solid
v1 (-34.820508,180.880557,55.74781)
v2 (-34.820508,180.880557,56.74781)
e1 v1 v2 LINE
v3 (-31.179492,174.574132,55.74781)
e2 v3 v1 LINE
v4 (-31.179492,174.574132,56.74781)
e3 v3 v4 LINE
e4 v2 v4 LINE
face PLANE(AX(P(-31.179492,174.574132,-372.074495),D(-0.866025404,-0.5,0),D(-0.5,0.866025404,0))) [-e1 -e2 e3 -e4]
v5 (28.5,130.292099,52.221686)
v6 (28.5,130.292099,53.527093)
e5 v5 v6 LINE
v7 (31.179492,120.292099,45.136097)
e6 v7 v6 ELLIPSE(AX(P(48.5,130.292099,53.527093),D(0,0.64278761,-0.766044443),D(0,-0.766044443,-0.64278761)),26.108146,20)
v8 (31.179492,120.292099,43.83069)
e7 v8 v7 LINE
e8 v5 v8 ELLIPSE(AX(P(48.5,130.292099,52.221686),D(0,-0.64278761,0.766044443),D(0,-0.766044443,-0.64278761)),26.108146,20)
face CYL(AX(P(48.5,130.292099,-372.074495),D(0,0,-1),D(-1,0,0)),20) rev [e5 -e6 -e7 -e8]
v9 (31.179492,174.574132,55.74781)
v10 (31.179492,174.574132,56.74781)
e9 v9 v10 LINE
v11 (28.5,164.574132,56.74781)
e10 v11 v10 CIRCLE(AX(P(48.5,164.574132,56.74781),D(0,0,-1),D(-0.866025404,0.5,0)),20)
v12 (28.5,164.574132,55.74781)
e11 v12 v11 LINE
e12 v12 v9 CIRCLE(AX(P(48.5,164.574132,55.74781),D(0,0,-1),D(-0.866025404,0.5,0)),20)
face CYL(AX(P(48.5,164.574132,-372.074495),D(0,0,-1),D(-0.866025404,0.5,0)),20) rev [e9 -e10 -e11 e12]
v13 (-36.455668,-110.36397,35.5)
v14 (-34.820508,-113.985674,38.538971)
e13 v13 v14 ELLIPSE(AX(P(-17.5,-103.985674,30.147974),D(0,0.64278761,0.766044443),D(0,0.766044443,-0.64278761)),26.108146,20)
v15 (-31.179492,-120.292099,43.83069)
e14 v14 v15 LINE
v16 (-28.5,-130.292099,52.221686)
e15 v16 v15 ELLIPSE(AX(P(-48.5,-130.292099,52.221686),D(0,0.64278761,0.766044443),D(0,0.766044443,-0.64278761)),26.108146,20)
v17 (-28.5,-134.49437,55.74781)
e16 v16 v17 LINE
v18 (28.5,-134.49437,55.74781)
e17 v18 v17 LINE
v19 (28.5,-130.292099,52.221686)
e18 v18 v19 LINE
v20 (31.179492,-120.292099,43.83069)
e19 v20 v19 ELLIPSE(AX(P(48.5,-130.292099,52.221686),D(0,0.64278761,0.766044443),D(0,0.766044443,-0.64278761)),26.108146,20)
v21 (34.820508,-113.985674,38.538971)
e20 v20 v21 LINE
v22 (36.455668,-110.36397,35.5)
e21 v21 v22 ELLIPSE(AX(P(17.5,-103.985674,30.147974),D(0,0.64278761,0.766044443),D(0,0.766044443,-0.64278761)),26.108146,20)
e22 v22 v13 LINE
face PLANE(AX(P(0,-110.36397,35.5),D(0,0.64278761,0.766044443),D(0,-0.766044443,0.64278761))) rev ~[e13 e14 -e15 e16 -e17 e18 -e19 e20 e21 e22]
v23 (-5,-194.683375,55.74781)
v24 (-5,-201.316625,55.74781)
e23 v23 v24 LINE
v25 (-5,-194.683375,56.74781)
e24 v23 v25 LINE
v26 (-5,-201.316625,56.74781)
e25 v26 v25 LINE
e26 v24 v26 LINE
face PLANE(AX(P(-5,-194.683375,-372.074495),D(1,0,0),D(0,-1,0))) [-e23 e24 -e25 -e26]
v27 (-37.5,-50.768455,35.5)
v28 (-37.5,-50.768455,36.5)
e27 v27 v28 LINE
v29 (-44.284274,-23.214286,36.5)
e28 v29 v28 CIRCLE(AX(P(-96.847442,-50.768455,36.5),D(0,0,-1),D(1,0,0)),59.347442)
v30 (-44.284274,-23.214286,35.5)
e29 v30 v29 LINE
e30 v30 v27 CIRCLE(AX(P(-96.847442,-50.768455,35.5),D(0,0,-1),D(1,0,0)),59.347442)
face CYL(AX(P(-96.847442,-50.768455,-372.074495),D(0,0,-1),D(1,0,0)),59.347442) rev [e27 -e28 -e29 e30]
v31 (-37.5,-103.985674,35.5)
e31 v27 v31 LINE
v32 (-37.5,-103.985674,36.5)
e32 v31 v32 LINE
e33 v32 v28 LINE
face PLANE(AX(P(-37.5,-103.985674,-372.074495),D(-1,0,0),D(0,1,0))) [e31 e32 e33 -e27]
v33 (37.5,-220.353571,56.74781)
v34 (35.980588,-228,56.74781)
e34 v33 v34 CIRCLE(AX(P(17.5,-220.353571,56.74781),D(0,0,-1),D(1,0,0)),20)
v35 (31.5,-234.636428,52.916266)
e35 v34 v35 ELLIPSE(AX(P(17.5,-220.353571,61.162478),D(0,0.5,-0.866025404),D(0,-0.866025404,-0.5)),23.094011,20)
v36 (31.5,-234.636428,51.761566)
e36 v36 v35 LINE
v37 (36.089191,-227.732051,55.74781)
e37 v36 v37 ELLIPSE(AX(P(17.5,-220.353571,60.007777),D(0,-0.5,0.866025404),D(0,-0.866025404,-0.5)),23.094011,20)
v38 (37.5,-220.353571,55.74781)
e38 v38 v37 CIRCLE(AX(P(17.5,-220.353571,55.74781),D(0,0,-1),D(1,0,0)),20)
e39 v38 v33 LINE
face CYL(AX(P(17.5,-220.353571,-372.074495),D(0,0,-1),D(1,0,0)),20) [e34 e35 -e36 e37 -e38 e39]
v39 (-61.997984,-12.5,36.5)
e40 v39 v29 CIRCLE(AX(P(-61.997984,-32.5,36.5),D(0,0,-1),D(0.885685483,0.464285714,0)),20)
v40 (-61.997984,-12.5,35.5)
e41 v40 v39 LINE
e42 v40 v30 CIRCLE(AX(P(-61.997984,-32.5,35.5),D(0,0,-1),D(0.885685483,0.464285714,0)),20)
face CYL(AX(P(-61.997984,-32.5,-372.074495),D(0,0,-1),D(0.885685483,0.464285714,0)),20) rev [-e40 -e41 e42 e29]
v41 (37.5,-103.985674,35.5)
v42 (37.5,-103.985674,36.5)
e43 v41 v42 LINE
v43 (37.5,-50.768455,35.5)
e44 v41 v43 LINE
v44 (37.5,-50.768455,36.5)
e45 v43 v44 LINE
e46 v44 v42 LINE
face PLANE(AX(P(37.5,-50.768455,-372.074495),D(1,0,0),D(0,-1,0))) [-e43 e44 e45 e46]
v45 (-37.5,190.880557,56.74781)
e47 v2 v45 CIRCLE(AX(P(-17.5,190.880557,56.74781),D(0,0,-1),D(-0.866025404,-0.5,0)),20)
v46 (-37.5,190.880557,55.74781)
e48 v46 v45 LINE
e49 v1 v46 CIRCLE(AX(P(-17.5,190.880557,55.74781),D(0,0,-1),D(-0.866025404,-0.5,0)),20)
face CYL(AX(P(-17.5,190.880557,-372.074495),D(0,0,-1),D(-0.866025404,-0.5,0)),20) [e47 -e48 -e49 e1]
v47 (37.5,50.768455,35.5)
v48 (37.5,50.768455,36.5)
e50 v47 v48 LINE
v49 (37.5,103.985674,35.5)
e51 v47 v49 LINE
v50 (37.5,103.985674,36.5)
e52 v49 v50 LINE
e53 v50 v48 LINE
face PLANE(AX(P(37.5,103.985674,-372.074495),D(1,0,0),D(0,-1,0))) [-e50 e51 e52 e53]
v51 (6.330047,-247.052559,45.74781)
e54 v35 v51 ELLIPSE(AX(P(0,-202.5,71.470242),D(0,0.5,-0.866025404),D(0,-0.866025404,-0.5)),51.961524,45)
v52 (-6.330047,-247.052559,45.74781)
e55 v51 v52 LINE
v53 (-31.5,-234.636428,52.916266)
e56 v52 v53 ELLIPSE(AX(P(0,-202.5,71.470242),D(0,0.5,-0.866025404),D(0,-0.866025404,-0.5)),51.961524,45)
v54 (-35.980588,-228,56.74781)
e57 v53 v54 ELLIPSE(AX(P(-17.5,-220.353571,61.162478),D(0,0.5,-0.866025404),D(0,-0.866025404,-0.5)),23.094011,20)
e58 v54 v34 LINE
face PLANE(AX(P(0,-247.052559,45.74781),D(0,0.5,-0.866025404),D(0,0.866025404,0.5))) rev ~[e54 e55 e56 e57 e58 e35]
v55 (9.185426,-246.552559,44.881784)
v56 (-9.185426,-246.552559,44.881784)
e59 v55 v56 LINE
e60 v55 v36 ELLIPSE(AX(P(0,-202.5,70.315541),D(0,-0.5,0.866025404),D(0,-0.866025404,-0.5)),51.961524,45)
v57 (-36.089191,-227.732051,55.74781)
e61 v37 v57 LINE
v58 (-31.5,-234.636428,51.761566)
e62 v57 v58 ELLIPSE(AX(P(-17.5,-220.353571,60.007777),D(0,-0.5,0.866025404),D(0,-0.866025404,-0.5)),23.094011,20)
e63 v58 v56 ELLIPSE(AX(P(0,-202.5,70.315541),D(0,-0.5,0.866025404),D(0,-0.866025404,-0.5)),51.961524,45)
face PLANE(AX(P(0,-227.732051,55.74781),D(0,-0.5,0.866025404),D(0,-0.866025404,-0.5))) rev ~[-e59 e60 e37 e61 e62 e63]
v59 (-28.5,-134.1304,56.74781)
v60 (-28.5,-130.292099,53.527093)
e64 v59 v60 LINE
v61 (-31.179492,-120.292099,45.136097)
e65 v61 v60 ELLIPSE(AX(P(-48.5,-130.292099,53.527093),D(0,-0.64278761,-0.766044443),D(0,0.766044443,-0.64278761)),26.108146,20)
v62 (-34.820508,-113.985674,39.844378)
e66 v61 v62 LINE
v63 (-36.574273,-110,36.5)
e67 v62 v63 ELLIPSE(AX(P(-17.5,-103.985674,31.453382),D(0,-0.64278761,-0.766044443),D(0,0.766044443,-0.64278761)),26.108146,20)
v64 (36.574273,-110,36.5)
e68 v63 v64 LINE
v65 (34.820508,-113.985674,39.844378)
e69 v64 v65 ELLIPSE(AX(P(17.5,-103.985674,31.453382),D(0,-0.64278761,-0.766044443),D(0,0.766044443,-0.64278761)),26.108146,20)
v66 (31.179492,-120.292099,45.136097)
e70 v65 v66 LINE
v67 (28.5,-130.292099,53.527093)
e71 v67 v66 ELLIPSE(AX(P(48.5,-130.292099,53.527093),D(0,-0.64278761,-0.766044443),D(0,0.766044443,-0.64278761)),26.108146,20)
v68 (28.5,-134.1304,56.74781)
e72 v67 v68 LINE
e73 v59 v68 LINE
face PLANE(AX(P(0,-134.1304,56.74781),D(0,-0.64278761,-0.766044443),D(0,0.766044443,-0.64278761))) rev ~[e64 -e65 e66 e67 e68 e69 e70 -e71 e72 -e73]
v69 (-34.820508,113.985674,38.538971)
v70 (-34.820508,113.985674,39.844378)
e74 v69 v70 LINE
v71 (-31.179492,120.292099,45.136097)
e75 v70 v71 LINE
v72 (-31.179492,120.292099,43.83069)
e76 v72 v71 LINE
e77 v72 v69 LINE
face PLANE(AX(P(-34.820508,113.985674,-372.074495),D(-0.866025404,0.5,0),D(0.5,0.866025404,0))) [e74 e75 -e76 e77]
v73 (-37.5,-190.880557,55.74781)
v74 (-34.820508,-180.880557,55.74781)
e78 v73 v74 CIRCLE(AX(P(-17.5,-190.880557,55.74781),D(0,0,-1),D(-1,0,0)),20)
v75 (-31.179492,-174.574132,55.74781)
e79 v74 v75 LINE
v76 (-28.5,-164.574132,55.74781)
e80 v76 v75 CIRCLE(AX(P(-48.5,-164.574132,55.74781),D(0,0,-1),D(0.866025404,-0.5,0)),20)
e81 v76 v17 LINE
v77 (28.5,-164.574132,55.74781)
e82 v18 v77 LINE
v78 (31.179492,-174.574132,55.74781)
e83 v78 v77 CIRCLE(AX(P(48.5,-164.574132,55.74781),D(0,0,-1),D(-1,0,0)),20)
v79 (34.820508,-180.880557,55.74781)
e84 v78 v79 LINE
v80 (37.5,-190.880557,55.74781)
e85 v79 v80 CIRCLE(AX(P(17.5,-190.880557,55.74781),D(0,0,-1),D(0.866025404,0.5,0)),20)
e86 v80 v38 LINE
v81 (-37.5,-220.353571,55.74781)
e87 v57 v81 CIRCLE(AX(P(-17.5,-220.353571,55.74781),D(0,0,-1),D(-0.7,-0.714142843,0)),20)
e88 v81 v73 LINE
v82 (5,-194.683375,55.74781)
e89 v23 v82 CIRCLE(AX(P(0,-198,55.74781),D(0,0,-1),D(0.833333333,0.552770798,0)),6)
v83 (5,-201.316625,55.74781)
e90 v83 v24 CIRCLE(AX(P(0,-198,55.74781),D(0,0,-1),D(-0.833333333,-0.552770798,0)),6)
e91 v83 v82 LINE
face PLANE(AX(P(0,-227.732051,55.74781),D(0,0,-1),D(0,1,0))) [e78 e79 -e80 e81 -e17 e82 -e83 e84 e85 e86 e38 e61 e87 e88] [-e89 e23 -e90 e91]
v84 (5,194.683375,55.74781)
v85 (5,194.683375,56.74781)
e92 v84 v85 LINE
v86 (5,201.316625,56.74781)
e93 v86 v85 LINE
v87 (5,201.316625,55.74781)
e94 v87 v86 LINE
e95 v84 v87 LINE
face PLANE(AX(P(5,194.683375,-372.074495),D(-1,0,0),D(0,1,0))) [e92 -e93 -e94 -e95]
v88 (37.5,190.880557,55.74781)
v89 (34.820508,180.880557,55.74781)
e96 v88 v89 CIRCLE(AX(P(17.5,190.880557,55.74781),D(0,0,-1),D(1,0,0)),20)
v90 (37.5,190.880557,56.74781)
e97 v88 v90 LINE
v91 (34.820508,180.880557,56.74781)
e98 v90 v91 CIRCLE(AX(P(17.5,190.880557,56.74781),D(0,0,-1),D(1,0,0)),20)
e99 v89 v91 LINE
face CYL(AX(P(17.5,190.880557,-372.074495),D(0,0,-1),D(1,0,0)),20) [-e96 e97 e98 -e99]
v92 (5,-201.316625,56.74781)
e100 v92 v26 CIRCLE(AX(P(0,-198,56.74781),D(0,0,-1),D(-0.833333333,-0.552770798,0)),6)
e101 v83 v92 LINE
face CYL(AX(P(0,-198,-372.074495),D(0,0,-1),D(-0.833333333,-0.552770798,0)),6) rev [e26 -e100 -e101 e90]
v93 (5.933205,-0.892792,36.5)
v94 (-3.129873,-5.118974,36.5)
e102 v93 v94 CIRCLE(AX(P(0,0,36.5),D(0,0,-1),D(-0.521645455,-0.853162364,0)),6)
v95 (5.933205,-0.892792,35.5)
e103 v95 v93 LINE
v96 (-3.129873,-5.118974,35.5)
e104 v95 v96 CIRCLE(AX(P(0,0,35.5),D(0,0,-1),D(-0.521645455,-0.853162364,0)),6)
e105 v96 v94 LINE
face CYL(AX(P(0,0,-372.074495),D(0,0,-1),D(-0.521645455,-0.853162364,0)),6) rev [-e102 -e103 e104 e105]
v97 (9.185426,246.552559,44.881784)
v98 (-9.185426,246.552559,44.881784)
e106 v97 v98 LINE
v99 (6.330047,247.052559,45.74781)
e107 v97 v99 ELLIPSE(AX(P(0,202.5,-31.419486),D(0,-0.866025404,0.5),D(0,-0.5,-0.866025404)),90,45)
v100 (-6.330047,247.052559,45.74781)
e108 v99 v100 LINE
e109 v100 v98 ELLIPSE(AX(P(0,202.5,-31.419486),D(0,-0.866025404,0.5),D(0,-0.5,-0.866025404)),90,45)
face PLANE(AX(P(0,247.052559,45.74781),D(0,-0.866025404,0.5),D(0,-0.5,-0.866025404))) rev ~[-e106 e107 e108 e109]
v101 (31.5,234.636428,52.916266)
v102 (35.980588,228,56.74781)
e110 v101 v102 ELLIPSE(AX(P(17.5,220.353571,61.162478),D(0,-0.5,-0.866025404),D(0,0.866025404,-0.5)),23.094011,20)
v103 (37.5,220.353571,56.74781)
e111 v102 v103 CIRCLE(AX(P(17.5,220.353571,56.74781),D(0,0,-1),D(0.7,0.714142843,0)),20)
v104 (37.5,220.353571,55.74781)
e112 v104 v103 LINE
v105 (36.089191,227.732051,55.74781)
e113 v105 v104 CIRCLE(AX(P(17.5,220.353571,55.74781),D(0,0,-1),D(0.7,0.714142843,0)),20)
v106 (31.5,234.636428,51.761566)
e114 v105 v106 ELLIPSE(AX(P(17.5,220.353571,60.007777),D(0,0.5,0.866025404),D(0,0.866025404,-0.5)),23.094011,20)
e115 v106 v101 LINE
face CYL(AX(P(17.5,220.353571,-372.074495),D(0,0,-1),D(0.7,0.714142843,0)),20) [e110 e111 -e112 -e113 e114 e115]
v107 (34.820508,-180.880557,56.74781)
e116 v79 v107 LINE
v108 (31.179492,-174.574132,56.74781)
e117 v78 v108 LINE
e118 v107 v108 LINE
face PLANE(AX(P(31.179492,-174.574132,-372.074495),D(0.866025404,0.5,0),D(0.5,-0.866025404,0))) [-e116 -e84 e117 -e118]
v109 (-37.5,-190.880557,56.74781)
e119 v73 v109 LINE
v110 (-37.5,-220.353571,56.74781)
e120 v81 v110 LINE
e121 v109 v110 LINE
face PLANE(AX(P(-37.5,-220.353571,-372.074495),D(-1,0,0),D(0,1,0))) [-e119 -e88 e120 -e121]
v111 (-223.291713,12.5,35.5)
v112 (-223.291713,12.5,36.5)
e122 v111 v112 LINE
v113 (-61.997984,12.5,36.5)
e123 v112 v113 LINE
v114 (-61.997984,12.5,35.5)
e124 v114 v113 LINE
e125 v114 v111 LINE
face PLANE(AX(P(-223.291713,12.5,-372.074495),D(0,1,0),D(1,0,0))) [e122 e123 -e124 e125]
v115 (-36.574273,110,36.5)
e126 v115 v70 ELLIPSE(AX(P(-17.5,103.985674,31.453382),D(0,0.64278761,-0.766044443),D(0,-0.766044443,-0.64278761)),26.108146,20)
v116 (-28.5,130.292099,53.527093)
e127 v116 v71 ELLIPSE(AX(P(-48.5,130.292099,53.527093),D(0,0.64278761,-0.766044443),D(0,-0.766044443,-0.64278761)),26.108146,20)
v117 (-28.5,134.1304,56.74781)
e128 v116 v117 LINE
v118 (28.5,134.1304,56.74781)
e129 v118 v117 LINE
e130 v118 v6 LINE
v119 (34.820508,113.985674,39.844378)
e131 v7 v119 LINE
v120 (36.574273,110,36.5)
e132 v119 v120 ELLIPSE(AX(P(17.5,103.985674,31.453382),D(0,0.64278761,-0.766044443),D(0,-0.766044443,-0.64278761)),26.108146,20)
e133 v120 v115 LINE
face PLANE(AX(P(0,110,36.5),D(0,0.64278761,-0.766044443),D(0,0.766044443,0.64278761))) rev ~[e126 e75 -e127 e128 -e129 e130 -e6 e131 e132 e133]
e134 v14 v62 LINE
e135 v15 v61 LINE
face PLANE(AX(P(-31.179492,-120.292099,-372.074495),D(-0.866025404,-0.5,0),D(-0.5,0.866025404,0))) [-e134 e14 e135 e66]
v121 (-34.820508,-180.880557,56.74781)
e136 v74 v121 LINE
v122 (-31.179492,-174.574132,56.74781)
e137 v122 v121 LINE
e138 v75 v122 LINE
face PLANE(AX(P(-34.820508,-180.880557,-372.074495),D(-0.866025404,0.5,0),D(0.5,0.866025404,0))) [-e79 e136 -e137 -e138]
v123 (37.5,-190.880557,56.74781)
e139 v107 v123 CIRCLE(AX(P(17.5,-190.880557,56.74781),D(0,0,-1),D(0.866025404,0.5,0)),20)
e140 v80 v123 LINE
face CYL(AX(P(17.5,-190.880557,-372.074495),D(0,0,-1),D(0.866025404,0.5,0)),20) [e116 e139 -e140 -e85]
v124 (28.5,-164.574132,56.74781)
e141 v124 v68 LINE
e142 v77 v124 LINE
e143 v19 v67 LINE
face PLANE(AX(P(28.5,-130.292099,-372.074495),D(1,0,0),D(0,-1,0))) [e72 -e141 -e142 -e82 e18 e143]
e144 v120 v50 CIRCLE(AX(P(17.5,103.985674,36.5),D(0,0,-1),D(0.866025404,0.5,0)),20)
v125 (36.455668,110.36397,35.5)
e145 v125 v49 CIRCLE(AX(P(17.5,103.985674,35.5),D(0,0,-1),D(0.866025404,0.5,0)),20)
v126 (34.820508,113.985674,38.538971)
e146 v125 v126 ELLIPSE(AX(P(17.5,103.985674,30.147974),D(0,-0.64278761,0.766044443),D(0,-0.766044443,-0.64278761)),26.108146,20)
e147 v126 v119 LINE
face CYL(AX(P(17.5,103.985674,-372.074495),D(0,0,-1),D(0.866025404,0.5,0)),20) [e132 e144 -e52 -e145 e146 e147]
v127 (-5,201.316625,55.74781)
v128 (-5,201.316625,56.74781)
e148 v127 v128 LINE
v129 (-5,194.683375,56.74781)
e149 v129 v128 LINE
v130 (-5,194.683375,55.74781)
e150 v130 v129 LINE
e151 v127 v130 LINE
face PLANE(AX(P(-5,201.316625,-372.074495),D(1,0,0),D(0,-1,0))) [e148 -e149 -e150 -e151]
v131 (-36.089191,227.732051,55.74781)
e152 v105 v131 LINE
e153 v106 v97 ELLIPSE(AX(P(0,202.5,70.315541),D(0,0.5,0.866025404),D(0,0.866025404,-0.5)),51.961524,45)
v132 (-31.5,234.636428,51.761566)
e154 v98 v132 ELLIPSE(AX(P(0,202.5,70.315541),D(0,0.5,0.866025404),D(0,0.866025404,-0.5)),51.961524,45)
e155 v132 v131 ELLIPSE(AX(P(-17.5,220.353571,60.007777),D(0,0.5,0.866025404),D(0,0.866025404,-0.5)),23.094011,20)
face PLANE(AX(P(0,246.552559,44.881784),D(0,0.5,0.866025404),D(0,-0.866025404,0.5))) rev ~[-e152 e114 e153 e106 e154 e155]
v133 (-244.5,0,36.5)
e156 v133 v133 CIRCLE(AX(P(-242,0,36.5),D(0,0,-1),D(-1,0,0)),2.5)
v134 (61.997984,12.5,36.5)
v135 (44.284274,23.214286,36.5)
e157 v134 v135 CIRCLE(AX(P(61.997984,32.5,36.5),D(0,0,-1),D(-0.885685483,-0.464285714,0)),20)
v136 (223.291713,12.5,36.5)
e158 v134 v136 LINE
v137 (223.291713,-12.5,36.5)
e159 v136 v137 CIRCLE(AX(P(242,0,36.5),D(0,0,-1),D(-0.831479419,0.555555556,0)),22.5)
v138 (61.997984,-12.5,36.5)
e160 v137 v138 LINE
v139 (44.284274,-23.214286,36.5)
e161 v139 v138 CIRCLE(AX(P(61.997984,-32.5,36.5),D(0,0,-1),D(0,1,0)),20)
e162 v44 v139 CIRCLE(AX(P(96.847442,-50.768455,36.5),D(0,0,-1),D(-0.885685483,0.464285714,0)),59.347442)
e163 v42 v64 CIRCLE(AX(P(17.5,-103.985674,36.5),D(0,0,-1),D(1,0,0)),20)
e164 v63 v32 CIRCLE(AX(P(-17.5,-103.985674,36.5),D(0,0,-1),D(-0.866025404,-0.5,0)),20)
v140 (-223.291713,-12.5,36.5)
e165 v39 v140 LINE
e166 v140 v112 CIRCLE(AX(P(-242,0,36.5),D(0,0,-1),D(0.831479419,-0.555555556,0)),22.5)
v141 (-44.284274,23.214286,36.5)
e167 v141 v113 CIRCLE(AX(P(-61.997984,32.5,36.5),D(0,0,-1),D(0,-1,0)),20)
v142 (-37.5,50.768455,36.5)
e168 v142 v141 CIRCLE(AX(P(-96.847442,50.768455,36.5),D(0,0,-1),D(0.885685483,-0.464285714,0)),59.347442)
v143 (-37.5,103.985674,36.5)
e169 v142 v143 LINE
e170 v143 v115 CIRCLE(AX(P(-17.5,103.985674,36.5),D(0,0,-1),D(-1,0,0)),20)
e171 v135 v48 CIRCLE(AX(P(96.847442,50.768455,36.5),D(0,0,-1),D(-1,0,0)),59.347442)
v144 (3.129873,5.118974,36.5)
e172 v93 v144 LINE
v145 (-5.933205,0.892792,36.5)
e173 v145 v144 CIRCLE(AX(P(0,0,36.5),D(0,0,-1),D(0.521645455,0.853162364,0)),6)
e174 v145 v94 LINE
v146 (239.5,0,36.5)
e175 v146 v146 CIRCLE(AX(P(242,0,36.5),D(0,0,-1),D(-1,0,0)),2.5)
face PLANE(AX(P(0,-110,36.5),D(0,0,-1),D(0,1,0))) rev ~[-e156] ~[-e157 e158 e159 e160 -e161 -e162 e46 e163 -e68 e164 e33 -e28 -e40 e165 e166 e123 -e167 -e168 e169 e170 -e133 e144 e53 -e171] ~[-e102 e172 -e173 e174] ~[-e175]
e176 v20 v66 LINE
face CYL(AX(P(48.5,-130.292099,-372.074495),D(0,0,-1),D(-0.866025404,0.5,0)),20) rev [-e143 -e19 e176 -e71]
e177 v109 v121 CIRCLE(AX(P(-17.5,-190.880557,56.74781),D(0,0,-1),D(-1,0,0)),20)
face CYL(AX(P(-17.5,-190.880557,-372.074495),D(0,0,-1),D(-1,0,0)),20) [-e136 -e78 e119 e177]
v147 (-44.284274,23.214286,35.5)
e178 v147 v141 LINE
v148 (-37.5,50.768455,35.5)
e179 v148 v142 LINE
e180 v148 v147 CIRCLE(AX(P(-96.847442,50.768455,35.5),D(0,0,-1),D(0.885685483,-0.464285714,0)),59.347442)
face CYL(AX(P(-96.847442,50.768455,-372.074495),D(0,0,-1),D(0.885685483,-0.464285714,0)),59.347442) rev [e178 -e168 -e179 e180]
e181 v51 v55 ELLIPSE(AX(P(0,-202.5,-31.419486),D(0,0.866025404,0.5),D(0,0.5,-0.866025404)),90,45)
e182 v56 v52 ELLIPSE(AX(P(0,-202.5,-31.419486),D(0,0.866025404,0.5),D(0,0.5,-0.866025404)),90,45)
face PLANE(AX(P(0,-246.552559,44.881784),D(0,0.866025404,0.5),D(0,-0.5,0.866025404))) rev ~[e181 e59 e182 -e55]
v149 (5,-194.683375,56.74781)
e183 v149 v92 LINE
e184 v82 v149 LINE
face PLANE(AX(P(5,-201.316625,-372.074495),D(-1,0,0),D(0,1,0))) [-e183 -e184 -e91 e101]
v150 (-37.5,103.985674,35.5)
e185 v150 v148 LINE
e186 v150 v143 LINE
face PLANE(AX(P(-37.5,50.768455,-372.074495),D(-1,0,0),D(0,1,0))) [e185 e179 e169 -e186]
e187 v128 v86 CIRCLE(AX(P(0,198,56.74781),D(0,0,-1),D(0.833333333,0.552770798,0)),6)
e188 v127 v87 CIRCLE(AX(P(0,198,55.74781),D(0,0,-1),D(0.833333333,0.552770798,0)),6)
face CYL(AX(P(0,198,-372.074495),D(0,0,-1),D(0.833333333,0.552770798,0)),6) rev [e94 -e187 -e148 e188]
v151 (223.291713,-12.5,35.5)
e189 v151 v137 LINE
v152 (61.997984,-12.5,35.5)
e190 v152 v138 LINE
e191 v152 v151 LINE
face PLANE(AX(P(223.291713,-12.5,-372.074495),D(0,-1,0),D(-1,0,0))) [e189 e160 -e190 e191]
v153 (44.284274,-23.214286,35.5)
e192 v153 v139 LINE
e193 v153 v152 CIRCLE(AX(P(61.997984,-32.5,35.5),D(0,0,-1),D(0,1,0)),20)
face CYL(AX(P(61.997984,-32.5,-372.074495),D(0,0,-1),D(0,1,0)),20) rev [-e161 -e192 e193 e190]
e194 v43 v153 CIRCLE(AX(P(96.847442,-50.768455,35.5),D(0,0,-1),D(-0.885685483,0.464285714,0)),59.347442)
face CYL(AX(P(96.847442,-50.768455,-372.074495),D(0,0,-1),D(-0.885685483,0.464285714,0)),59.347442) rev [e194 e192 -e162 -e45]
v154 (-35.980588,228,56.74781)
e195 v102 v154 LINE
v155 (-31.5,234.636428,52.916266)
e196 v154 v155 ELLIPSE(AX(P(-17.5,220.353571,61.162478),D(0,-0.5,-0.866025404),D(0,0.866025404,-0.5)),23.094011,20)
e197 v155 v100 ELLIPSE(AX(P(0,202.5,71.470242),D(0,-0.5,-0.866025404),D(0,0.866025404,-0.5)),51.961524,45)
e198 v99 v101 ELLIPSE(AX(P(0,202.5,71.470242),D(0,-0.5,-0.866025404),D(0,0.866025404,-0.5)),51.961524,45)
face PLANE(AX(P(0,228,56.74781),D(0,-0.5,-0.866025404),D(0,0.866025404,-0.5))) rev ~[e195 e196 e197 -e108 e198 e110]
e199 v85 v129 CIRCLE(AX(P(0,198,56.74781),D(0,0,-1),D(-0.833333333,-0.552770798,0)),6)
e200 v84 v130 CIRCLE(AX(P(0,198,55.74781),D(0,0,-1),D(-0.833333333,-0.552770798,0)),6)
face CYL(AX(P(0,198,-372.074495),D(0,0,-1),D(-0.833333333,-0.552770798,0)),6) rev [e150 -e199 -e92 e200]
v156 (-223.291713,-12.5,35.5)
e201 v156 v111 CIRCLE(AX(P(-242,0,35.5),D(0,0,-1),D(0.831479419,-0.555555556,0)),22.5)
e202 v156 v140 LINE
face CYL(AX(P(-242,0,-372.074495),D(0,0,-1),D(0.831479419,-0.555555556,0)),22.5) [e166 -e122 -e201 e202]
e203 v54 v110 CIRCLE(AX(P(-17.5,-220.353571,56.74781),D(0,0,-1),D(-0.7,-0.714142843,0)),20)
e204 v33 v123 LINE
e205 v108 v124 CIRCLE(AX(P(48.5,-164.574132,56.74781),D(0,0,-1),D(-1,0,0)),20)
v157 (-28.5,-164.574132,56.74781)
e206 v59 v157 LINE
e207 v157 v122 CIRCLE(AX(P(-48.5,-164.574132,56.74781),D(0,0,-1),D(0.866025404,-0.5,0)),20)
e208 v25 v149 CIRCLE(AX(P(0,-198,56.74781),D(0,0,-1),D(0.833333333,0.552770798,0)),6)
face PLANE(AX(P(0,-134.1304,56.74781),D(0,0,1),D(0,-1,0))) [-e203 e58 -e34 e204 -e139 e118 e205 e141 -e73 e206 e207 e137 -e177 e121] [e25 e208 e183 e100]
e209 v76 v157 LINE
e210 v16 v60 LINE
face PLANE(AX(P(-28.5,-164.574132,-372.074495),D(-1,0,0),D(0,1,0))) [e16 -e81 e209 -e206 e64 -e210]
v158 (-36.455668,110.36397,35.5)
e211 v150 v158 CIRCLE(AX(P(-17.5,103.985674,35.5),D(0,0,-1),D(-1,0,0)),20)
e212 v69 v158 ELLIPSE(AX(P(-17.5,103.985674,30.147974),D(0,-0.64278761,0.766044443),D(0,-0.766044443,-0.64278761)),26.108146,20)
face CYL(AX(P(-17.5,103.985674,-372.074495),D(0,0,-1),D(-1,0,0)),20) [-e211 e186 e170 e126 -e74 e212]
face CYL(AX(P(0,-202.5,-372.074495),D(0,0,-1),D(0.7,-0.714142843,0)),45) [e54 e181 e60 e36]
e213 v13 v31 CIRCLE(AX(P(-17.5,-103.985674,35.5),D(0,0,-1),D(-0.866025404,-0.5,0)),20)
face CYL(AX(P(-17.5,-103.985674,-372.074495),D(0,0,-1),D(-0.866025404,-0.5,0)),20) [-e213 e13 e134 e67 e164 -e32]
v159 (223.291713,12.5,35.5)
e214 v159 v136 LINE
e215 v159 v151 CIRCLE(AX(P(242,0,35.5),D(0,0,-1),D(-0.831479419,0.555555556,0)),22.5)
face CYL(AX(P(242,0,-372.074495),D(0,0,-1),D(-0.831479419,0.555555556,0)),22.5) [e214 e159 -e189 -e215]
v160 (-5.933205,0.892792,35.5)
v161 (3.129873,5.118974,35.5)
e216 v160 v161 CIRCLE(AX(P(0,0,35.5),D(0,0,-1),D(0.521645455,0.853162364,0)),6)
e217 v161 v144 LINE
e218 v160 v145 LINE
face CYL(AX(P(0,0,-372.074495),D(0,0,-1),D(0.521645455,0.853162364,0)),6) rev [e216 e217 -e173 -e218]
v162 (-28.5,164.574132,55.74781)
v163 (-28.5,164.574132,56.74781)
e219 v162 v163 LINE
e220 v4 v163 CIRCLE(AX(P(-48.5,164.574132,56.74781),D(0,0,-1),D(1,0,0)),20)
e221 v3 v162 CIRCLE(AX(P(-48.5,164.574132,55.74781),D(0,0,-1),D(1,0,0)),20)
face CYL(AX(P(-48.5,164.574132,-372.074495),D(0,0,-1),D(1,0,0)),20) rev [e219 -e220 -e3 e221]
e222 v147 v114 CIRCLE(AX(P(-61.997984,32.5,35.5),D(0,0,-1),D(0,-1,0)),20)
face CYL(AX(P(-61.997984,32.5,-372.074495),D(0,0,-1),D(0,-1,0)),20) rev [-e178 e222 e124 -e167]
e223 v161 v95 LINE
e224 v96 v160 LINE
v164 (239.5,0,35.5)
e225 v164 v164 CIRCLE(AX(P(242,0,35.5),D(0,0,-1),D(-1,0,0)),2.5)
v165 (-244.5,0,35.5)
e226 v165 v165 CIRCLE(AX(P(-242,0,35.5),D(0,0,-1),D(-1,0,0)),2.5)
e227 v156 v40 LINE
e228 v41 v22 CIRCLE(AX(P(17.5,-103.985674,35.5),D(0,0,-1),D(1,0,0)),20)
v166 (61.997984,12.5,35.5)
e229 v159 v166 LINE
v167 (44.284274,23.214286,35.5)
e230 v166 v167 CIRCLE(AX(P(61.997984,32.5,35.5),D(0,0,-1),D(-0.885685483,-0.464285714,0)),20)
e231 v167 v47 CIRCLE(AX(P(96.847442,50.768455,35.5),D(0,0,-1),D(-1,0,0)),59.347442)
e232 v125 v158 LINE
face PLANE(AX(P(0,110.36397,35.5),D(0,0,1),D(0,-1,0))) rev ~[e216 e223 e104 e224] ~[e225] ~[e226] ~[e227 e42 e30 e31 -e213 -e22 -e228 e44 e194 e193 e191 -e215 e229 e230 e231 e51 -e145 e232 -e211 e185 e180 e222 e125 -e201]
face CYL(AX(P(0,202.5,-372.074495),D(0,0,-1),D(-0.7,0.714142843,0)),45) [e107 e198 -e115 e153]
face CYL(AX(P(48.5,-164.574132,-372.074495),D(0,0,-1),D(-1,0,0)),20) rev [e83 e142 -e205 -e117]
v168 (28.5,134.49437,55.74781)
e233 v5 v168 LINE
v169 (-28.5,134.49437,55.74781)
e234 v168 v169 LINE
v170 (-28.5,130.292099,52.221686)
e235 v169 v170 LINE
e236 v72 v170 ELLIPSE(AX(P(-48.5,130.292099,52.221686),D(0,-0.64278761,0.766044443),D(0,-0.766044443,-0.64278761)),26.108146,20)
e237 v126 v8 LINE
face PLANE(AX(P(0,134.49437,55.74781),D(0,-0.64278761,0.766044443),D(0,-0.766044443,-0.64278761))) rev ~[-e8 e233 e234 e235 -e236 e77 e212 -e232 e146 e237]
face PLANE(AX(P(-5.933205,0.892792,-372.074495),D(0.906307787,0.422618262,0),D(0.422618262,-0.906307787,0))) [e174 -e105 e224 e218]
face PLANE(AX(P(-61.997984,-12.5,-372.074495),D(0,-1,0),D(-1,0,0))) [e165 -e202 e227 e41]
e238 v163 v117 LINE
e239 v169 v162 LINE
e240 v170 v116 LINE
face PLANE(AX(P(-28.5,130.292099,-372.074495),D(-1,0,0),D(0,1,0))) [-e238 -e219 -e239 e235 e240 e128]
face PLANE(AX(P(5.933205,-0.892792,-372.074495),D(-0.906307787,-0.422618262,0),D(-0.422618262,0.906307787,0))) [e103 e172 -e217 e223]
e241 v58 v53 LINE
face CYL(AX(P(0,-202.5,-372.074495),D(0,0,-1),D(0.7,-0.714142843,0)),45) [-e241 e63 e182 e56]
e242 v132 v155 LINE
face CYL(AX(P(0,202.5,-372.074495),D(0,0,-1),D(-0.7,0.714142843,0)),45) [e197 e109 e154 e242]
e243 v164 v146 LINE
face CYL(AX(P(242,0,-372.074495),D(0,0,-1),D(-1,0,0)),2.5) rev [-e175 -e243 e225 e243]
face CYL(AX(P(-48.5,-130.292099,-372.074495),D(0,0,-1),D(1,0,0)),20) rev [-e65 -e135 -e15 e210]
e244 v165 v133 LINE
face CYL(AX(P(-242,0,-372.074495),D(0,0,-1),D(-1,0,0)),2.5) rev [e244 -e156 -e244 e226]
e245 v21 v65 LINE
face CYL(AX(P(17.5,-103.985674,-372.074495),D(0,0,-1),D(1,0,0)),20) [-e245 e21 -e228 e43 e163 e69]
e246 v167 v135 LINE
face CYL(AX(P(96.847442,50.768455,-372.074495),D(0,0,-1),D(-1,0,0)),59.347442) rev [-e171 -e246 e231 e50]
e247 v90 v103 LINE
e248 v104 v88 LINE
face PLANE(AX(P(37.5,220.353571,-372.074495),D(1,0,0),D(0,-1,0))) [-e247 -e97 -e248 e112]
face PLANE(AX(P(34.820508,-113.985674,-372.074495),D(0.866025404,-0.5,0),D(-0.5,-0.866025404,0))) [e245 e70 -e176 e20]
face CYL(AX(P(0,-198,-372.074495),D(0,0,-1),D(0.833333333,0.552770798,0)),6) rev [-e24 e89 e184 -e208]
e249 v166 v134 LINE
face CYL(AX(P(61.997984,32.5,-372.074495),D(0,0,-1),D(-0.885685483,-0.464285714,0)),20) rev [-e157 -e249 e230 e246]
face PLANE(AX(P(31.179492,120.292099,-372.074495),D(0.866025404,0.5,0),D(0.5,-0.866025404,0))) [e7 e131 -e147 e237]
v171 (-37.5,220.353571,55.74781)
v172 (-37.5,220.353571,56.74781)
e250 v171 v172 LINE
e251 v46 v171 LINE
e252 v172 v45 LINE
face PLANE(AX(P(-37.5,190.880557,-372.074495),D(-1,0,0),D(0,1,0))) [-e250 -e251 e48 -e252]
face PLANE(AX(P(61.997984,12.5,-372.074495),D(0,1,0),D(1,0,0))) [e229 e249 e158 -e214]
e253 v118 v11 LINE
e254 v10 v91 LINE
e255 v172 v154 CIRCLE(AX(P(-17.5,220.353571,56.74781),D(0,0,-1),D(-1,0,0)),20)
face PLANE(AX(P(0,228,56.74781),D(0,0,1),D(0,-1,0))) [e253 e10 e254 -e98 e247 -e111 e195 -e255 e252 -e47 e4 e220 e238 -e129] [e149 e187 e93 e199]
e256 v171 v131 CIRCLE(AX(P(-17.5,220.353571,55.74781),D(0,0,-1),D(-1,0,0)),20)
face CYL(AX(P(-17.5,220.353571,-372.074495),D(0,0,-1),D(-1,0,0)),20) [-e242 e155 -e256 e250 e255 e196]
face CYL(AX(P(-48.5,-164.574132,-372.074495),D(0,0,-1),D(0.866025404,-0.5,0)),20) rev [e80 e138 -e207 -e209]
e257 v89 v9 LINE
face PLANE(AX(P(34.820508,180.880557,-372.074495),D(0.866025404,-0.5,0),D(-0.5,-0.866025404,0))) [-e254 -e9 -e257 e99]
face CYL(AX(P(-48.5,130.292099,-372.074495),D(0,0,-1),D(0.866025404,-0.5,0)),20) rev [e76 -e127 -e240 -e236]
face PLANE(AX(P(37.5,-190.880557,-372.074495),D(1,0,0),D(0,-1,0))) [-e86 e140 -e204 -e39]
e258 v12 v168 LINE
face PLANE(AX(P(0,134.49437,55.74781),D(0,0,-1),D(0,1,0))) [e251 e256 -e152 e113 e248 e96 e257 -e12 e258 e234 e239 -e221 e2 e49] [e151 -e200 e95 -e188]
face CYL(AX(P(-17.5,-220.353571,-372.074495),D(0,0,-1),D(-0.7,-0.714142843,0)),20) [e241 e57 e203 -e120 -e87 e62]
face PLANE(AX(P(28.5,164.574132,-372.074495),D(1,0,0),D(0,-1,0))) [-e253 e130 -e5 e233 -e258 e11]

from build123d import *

# Parameters (mm, degrees)
SALIENTE_EXTRUIR1_DEPTH     = 271
CORTAR_EXTRUIR9_DEPTH       = 372.074494889
CORTAR_EXTRUIR9_DEPTH_BACK  = 372.074494889
CROQUIS4_R                  = 2.5
CORTAR_EXTRUIR11_DEPTH      = 372.074494889
CORTAR_EXTRUIR11_DEPTH_BACK = 372.074494889
CROQUIS2_W                  = 600.899293422
CROQUIS2_H                  = 554.061756016


with BuildPart() as part:
    # Croquis1 → Saliente-Extruir1 (new, symmetric)
    with BuildSketch(Plane(origin=(0, 0, 0), x_dir=(0, 0, -1), z_dir=(1, 0, 0))):
        Polygon((-36.5, -110), (-36.5, 110), (-56.747809705, 134.130399958), (-56.747809705, 198), (-56.747809705, 228), (-45.747809705, 247.052558883), (-44.881784301, 246.552558883), (-55.747809705, 227.732050808), (-55.747809705, 198), (-55.747809705, 134.494370193), (-35.5, 110.363970234), (-35.5, -110.363970234), (-55.747809705, -134.494370193), (-55.747809705, -198), (-55.747809705, -227.732050808), (-44.881784301, -246.552558883), (-45.747809705, -247.052558883), (-56.747809705, -228), (-56.747809705, -198), (-56.747809705, -134.130399958), align=None)
    extrude(amount=SALIENTE_EXTRUIR1_DEPTH, both=True)

    # Croquis4 → Cortar-Extruir9 (cut, two sides: drawn at the far end of the back side and taken through both)
    with BuildSketch(Plane.XY.offset(-CORTAR_EXTRUIR9_DEPTH_BACK)):
        with Locations(Location((-242, 0, 0), (0, 0, 180))):
            Circle(CROQUIS4_R)
        with Locations(Location((242, 0, 0), (0, 0, 180))):
            Circle(CROQUIS4_R)
        with BuildLine():
            Line((-5, 201.31662479), (-5, 194.68337521))
            ThreePointArc((-5, 194.68337521), (0, 192), (5, 194.68337521))
            Line((5, 194.68337521), (5, 201.31662479))
            ThreePointArc((5, 201.31662479), (0, 204), (-5, 201.31662479))
        make_face()
        with BuildLine():
            Line((5, -201.31662479), (5, -194.68337521))
            ThreePointArc((5, -194.68337521), (0, -192), (-5, -194.68337521))
            Line((-5, -194.68337521), (-5, -201.31662479))
            ThreePointArc((-5, -201.31662479), (0, -204), (5, -201.31662479))
        make_face()
        with BuildLine():
            Line((-5.933205139, 0.892791565), (-3.129872731, -5.118974183))
            ThreePointArc((-3.129872731, -5.118974183), (2.53570957, -5.437846722), (5.933205139, -0.892791565))
            Line((5.933205139, -0.892791565), (3.129872731, 5.118974183))
            ThreePointArc((3.129872731, 5.118974183), (-2.53570957, 5.437846722), (-5.933205139, 0.892791565))
        make_face()
    extrude(amount=CORTAR_EXTRUIR9_DEPTH + CORTAR_EXTRUIR9_DEPTH_BACK, mode=Mode.SUBTRACT)

    # Croquis2 → Cortar-Extruir11 (cut, two sides: drawn at the far end of the back side and taken through both)
    with BuildSketch(Plane.XY.offset(-CORTAR_EXTRUIR11_DEPTH_BACK)):
        Rectangle(CROQUIS2_W, CROQUIS2_H)
        with BuildLine():
            Line((-31.179491924, 174.57413175), (-34.820508076, 180.880556715))
            ThreePointArc((-34.820508076, 180.880556715), (-36.818516526, 185.704175813), (-37.5, 190.880556715))
            Line((-37.5, 190.880556715), (-37.5, 220.353571071))
            ThreePointArc((-37.5, 220.353571071), (-35.939088915, 228.099537764), (-31.5, 234.636427928))
            ThreePointArc((-31.5, 234.636427928), (0, 247.5), (31.5, 234.636427928))
            ThreePointArc((31.5, 234.636427928), (35.939088915, 228.099537764), (37.5, 220.353571071))
            Line((37.5, 220.353571071), (37.5, 190.880556715))
            ThreePointArc((37.5, 190.880556715), (36.818516526, 185.704175813), (34.820508076, 180.880556715))
            Line((34.820508076, 180.880556715), (31.179491924, 174.57413175))
            ThreePointArc((31.179491924, 174.57413175), (29.181483474, 169.750512652), (28.5, 164.57413175))
            Line((28.5, 164.57413175), (28.5, 130.292099447))
            ThreePointArc((28.5, 130.292099447), (29.181483474, 125.115718545), (31.179491924, 120.292099447))
            Line((31.179491924, 120.292099447), (34.820508076, 113.985674482))
            ThreePointArc((34.820508076, 113.985674482), (36.818516526, 109.162055384), (37.5, 103.985674482))
            Line((37.5, 103.985674482), (37.5, 50.768455322))
            ThreePointArc((37.5, 50.768455322), (39.221022598, 36.579915591), (44.28427417, 23.214285714))
            ThreePointArc((44.28427417, 23.214285714), (51.647000448, 15.386930642), (61.997983838, 12.5))
            Line((61.997983838, 12.5), (223.291713066, 12.5))
            ThreePointArc((223.291713066, 12.5), (264.5, 0), (223.291713066, -12.5))
            Line((223.291713066, -12.5), (61.997983838, -12.5))
            ThreePointArc((61.997983838, -12.5), (51.647000448, -15.386930642), (44.28427417, -23.214285714))
            ThreePointArc((44.28427417, -23.214285714), (39.221022598, -36.579915591), (37.5, -50.768455322))
            Line((37.5, -50.768455322), (37.5, -103.985674482))
            ThreePointArc((37.5, -103.985674482), (36.818516526, -109.162055384), (34.820508076, -113.985674482))
            Line((34.820508076, -113.985674482), (31.179491924, -120.292099447))
            ThreePointArc((31.179491924, -120.292099447), (29.181483474, -125.115718545), (28.5, -130.292099447))
            Line((28.5, -130.292099447), (28.5, -164.57413175))
            ThreePointArc((28.5, -164.57413175), (29.181483474, -169.750512652), (31.179491924, -174.57413175))
            Line((31.179491924, -174.57413175), (34.820508076, -180.880556715))
            ThreePointArc((34.820508076, -180.880556715), (36.818516526, -185.704175813), (37.5, -190.880556715))
            Line((37.5, -190.880556715), (37.5, -220.353571071))
            ThreePointArc((37.5, -220.353571071), (35.939088915, -228.099537764), (31.5, -234.636427928))
            ThreePointArc((31.5, -234.636427928), (0, -247.5), (-31.5, -234.636427928))
            ThreePointArc((-31.5, -234.636427928), (-35.939088915, -228.099537764), (-37.5, -220.353571071))
            Line((-37.5, -220.353571071), (-37.5, -190.880556715))
            ThreePointArc((-37.5, -190.880556715), (-36.818516526, -185.704175813), (-34.820508076, -180.880556715))
            Line((-34.820508076, -180.880556715), (-31.179491924, -174.57413175))
            ThreePointArc((-31.179491924, -174.57413175), (-29.181483474, -169.750512652), (-28.5, -164.57413175))
            Line((-28.5, -164.57413175), (-28.5, -130.292099447))
            ThreePointArc((-28.5, -130.292099447), (-29.181483474, -125.115718545), (-31.179491924, -120.292099447))
            Line((-31.179491924, -120.292099447), (-34.820508076, -113.985674482))
            ThreePointArc((-34.820508076, -113.985674482), (-36.818516526, -109.162055384), (-37.5, -103.985674482))
            Line((-37.5, -103.985674482), (-37.5, -50.768455322))
            ThreePointArc((-37.5, -50.768455322), (-39.221022598, -36.579915591), (-44.28427417, -23.214285714))
            ThreePointArc((-44.28427417, -23.214285714), (-51.647000448, -15.386930642), (-61.997983838, -12.5))
            Line((-61.997983838, -12.5), (-223.291713066, -12.5))
            ThreePointArc((-223.291713066, -12.5), (-264.5, 0), (-223.291713066, 12.5))
            Line((-223.291713066, 12.5), (-61.997983838, 12.5))
            ThreePointArc((-61.997983838, 12.5), (-51.647000448, 15.386930642), (-44.28427417, 23.214285714))
            ThreePointArc((-44.28427417, 23.214285714), (-39.221022598, 36.579915591), (-37.5, 50.768455322))
            Line((-37.5, 50.768455322), (-37.5, 103.985674482))
            ThreePointArc((-37.5, 103.985674482), (-36.818516526, 109.162055384), (-34.820508076, 113.985674482))
            Line((-34.820508076, 113.985674482), (-31.179491924, 120.292099447))
            ThreePointArc((-31.179491924, 120.292099447), (-29.181483474, 125.115718545), (-28.5, 130.292099447))
            Line((-28.5, 130.292099447), (-28.5, 164.57413175))
            ThreePointArc((-28.5, 164.57413175), (-29.181483474, 169.750512652), (-31.179491924, 174.57413175))
        make_face(mode=Mode.SUBTRACT)
    extrude(amount=CORTAR_EXTRUIR11_DEPTH + CORTAR_EXTRUIR11_DEPTH_BACK, mode=Mode.SUBTRACT)


solid = part.part
